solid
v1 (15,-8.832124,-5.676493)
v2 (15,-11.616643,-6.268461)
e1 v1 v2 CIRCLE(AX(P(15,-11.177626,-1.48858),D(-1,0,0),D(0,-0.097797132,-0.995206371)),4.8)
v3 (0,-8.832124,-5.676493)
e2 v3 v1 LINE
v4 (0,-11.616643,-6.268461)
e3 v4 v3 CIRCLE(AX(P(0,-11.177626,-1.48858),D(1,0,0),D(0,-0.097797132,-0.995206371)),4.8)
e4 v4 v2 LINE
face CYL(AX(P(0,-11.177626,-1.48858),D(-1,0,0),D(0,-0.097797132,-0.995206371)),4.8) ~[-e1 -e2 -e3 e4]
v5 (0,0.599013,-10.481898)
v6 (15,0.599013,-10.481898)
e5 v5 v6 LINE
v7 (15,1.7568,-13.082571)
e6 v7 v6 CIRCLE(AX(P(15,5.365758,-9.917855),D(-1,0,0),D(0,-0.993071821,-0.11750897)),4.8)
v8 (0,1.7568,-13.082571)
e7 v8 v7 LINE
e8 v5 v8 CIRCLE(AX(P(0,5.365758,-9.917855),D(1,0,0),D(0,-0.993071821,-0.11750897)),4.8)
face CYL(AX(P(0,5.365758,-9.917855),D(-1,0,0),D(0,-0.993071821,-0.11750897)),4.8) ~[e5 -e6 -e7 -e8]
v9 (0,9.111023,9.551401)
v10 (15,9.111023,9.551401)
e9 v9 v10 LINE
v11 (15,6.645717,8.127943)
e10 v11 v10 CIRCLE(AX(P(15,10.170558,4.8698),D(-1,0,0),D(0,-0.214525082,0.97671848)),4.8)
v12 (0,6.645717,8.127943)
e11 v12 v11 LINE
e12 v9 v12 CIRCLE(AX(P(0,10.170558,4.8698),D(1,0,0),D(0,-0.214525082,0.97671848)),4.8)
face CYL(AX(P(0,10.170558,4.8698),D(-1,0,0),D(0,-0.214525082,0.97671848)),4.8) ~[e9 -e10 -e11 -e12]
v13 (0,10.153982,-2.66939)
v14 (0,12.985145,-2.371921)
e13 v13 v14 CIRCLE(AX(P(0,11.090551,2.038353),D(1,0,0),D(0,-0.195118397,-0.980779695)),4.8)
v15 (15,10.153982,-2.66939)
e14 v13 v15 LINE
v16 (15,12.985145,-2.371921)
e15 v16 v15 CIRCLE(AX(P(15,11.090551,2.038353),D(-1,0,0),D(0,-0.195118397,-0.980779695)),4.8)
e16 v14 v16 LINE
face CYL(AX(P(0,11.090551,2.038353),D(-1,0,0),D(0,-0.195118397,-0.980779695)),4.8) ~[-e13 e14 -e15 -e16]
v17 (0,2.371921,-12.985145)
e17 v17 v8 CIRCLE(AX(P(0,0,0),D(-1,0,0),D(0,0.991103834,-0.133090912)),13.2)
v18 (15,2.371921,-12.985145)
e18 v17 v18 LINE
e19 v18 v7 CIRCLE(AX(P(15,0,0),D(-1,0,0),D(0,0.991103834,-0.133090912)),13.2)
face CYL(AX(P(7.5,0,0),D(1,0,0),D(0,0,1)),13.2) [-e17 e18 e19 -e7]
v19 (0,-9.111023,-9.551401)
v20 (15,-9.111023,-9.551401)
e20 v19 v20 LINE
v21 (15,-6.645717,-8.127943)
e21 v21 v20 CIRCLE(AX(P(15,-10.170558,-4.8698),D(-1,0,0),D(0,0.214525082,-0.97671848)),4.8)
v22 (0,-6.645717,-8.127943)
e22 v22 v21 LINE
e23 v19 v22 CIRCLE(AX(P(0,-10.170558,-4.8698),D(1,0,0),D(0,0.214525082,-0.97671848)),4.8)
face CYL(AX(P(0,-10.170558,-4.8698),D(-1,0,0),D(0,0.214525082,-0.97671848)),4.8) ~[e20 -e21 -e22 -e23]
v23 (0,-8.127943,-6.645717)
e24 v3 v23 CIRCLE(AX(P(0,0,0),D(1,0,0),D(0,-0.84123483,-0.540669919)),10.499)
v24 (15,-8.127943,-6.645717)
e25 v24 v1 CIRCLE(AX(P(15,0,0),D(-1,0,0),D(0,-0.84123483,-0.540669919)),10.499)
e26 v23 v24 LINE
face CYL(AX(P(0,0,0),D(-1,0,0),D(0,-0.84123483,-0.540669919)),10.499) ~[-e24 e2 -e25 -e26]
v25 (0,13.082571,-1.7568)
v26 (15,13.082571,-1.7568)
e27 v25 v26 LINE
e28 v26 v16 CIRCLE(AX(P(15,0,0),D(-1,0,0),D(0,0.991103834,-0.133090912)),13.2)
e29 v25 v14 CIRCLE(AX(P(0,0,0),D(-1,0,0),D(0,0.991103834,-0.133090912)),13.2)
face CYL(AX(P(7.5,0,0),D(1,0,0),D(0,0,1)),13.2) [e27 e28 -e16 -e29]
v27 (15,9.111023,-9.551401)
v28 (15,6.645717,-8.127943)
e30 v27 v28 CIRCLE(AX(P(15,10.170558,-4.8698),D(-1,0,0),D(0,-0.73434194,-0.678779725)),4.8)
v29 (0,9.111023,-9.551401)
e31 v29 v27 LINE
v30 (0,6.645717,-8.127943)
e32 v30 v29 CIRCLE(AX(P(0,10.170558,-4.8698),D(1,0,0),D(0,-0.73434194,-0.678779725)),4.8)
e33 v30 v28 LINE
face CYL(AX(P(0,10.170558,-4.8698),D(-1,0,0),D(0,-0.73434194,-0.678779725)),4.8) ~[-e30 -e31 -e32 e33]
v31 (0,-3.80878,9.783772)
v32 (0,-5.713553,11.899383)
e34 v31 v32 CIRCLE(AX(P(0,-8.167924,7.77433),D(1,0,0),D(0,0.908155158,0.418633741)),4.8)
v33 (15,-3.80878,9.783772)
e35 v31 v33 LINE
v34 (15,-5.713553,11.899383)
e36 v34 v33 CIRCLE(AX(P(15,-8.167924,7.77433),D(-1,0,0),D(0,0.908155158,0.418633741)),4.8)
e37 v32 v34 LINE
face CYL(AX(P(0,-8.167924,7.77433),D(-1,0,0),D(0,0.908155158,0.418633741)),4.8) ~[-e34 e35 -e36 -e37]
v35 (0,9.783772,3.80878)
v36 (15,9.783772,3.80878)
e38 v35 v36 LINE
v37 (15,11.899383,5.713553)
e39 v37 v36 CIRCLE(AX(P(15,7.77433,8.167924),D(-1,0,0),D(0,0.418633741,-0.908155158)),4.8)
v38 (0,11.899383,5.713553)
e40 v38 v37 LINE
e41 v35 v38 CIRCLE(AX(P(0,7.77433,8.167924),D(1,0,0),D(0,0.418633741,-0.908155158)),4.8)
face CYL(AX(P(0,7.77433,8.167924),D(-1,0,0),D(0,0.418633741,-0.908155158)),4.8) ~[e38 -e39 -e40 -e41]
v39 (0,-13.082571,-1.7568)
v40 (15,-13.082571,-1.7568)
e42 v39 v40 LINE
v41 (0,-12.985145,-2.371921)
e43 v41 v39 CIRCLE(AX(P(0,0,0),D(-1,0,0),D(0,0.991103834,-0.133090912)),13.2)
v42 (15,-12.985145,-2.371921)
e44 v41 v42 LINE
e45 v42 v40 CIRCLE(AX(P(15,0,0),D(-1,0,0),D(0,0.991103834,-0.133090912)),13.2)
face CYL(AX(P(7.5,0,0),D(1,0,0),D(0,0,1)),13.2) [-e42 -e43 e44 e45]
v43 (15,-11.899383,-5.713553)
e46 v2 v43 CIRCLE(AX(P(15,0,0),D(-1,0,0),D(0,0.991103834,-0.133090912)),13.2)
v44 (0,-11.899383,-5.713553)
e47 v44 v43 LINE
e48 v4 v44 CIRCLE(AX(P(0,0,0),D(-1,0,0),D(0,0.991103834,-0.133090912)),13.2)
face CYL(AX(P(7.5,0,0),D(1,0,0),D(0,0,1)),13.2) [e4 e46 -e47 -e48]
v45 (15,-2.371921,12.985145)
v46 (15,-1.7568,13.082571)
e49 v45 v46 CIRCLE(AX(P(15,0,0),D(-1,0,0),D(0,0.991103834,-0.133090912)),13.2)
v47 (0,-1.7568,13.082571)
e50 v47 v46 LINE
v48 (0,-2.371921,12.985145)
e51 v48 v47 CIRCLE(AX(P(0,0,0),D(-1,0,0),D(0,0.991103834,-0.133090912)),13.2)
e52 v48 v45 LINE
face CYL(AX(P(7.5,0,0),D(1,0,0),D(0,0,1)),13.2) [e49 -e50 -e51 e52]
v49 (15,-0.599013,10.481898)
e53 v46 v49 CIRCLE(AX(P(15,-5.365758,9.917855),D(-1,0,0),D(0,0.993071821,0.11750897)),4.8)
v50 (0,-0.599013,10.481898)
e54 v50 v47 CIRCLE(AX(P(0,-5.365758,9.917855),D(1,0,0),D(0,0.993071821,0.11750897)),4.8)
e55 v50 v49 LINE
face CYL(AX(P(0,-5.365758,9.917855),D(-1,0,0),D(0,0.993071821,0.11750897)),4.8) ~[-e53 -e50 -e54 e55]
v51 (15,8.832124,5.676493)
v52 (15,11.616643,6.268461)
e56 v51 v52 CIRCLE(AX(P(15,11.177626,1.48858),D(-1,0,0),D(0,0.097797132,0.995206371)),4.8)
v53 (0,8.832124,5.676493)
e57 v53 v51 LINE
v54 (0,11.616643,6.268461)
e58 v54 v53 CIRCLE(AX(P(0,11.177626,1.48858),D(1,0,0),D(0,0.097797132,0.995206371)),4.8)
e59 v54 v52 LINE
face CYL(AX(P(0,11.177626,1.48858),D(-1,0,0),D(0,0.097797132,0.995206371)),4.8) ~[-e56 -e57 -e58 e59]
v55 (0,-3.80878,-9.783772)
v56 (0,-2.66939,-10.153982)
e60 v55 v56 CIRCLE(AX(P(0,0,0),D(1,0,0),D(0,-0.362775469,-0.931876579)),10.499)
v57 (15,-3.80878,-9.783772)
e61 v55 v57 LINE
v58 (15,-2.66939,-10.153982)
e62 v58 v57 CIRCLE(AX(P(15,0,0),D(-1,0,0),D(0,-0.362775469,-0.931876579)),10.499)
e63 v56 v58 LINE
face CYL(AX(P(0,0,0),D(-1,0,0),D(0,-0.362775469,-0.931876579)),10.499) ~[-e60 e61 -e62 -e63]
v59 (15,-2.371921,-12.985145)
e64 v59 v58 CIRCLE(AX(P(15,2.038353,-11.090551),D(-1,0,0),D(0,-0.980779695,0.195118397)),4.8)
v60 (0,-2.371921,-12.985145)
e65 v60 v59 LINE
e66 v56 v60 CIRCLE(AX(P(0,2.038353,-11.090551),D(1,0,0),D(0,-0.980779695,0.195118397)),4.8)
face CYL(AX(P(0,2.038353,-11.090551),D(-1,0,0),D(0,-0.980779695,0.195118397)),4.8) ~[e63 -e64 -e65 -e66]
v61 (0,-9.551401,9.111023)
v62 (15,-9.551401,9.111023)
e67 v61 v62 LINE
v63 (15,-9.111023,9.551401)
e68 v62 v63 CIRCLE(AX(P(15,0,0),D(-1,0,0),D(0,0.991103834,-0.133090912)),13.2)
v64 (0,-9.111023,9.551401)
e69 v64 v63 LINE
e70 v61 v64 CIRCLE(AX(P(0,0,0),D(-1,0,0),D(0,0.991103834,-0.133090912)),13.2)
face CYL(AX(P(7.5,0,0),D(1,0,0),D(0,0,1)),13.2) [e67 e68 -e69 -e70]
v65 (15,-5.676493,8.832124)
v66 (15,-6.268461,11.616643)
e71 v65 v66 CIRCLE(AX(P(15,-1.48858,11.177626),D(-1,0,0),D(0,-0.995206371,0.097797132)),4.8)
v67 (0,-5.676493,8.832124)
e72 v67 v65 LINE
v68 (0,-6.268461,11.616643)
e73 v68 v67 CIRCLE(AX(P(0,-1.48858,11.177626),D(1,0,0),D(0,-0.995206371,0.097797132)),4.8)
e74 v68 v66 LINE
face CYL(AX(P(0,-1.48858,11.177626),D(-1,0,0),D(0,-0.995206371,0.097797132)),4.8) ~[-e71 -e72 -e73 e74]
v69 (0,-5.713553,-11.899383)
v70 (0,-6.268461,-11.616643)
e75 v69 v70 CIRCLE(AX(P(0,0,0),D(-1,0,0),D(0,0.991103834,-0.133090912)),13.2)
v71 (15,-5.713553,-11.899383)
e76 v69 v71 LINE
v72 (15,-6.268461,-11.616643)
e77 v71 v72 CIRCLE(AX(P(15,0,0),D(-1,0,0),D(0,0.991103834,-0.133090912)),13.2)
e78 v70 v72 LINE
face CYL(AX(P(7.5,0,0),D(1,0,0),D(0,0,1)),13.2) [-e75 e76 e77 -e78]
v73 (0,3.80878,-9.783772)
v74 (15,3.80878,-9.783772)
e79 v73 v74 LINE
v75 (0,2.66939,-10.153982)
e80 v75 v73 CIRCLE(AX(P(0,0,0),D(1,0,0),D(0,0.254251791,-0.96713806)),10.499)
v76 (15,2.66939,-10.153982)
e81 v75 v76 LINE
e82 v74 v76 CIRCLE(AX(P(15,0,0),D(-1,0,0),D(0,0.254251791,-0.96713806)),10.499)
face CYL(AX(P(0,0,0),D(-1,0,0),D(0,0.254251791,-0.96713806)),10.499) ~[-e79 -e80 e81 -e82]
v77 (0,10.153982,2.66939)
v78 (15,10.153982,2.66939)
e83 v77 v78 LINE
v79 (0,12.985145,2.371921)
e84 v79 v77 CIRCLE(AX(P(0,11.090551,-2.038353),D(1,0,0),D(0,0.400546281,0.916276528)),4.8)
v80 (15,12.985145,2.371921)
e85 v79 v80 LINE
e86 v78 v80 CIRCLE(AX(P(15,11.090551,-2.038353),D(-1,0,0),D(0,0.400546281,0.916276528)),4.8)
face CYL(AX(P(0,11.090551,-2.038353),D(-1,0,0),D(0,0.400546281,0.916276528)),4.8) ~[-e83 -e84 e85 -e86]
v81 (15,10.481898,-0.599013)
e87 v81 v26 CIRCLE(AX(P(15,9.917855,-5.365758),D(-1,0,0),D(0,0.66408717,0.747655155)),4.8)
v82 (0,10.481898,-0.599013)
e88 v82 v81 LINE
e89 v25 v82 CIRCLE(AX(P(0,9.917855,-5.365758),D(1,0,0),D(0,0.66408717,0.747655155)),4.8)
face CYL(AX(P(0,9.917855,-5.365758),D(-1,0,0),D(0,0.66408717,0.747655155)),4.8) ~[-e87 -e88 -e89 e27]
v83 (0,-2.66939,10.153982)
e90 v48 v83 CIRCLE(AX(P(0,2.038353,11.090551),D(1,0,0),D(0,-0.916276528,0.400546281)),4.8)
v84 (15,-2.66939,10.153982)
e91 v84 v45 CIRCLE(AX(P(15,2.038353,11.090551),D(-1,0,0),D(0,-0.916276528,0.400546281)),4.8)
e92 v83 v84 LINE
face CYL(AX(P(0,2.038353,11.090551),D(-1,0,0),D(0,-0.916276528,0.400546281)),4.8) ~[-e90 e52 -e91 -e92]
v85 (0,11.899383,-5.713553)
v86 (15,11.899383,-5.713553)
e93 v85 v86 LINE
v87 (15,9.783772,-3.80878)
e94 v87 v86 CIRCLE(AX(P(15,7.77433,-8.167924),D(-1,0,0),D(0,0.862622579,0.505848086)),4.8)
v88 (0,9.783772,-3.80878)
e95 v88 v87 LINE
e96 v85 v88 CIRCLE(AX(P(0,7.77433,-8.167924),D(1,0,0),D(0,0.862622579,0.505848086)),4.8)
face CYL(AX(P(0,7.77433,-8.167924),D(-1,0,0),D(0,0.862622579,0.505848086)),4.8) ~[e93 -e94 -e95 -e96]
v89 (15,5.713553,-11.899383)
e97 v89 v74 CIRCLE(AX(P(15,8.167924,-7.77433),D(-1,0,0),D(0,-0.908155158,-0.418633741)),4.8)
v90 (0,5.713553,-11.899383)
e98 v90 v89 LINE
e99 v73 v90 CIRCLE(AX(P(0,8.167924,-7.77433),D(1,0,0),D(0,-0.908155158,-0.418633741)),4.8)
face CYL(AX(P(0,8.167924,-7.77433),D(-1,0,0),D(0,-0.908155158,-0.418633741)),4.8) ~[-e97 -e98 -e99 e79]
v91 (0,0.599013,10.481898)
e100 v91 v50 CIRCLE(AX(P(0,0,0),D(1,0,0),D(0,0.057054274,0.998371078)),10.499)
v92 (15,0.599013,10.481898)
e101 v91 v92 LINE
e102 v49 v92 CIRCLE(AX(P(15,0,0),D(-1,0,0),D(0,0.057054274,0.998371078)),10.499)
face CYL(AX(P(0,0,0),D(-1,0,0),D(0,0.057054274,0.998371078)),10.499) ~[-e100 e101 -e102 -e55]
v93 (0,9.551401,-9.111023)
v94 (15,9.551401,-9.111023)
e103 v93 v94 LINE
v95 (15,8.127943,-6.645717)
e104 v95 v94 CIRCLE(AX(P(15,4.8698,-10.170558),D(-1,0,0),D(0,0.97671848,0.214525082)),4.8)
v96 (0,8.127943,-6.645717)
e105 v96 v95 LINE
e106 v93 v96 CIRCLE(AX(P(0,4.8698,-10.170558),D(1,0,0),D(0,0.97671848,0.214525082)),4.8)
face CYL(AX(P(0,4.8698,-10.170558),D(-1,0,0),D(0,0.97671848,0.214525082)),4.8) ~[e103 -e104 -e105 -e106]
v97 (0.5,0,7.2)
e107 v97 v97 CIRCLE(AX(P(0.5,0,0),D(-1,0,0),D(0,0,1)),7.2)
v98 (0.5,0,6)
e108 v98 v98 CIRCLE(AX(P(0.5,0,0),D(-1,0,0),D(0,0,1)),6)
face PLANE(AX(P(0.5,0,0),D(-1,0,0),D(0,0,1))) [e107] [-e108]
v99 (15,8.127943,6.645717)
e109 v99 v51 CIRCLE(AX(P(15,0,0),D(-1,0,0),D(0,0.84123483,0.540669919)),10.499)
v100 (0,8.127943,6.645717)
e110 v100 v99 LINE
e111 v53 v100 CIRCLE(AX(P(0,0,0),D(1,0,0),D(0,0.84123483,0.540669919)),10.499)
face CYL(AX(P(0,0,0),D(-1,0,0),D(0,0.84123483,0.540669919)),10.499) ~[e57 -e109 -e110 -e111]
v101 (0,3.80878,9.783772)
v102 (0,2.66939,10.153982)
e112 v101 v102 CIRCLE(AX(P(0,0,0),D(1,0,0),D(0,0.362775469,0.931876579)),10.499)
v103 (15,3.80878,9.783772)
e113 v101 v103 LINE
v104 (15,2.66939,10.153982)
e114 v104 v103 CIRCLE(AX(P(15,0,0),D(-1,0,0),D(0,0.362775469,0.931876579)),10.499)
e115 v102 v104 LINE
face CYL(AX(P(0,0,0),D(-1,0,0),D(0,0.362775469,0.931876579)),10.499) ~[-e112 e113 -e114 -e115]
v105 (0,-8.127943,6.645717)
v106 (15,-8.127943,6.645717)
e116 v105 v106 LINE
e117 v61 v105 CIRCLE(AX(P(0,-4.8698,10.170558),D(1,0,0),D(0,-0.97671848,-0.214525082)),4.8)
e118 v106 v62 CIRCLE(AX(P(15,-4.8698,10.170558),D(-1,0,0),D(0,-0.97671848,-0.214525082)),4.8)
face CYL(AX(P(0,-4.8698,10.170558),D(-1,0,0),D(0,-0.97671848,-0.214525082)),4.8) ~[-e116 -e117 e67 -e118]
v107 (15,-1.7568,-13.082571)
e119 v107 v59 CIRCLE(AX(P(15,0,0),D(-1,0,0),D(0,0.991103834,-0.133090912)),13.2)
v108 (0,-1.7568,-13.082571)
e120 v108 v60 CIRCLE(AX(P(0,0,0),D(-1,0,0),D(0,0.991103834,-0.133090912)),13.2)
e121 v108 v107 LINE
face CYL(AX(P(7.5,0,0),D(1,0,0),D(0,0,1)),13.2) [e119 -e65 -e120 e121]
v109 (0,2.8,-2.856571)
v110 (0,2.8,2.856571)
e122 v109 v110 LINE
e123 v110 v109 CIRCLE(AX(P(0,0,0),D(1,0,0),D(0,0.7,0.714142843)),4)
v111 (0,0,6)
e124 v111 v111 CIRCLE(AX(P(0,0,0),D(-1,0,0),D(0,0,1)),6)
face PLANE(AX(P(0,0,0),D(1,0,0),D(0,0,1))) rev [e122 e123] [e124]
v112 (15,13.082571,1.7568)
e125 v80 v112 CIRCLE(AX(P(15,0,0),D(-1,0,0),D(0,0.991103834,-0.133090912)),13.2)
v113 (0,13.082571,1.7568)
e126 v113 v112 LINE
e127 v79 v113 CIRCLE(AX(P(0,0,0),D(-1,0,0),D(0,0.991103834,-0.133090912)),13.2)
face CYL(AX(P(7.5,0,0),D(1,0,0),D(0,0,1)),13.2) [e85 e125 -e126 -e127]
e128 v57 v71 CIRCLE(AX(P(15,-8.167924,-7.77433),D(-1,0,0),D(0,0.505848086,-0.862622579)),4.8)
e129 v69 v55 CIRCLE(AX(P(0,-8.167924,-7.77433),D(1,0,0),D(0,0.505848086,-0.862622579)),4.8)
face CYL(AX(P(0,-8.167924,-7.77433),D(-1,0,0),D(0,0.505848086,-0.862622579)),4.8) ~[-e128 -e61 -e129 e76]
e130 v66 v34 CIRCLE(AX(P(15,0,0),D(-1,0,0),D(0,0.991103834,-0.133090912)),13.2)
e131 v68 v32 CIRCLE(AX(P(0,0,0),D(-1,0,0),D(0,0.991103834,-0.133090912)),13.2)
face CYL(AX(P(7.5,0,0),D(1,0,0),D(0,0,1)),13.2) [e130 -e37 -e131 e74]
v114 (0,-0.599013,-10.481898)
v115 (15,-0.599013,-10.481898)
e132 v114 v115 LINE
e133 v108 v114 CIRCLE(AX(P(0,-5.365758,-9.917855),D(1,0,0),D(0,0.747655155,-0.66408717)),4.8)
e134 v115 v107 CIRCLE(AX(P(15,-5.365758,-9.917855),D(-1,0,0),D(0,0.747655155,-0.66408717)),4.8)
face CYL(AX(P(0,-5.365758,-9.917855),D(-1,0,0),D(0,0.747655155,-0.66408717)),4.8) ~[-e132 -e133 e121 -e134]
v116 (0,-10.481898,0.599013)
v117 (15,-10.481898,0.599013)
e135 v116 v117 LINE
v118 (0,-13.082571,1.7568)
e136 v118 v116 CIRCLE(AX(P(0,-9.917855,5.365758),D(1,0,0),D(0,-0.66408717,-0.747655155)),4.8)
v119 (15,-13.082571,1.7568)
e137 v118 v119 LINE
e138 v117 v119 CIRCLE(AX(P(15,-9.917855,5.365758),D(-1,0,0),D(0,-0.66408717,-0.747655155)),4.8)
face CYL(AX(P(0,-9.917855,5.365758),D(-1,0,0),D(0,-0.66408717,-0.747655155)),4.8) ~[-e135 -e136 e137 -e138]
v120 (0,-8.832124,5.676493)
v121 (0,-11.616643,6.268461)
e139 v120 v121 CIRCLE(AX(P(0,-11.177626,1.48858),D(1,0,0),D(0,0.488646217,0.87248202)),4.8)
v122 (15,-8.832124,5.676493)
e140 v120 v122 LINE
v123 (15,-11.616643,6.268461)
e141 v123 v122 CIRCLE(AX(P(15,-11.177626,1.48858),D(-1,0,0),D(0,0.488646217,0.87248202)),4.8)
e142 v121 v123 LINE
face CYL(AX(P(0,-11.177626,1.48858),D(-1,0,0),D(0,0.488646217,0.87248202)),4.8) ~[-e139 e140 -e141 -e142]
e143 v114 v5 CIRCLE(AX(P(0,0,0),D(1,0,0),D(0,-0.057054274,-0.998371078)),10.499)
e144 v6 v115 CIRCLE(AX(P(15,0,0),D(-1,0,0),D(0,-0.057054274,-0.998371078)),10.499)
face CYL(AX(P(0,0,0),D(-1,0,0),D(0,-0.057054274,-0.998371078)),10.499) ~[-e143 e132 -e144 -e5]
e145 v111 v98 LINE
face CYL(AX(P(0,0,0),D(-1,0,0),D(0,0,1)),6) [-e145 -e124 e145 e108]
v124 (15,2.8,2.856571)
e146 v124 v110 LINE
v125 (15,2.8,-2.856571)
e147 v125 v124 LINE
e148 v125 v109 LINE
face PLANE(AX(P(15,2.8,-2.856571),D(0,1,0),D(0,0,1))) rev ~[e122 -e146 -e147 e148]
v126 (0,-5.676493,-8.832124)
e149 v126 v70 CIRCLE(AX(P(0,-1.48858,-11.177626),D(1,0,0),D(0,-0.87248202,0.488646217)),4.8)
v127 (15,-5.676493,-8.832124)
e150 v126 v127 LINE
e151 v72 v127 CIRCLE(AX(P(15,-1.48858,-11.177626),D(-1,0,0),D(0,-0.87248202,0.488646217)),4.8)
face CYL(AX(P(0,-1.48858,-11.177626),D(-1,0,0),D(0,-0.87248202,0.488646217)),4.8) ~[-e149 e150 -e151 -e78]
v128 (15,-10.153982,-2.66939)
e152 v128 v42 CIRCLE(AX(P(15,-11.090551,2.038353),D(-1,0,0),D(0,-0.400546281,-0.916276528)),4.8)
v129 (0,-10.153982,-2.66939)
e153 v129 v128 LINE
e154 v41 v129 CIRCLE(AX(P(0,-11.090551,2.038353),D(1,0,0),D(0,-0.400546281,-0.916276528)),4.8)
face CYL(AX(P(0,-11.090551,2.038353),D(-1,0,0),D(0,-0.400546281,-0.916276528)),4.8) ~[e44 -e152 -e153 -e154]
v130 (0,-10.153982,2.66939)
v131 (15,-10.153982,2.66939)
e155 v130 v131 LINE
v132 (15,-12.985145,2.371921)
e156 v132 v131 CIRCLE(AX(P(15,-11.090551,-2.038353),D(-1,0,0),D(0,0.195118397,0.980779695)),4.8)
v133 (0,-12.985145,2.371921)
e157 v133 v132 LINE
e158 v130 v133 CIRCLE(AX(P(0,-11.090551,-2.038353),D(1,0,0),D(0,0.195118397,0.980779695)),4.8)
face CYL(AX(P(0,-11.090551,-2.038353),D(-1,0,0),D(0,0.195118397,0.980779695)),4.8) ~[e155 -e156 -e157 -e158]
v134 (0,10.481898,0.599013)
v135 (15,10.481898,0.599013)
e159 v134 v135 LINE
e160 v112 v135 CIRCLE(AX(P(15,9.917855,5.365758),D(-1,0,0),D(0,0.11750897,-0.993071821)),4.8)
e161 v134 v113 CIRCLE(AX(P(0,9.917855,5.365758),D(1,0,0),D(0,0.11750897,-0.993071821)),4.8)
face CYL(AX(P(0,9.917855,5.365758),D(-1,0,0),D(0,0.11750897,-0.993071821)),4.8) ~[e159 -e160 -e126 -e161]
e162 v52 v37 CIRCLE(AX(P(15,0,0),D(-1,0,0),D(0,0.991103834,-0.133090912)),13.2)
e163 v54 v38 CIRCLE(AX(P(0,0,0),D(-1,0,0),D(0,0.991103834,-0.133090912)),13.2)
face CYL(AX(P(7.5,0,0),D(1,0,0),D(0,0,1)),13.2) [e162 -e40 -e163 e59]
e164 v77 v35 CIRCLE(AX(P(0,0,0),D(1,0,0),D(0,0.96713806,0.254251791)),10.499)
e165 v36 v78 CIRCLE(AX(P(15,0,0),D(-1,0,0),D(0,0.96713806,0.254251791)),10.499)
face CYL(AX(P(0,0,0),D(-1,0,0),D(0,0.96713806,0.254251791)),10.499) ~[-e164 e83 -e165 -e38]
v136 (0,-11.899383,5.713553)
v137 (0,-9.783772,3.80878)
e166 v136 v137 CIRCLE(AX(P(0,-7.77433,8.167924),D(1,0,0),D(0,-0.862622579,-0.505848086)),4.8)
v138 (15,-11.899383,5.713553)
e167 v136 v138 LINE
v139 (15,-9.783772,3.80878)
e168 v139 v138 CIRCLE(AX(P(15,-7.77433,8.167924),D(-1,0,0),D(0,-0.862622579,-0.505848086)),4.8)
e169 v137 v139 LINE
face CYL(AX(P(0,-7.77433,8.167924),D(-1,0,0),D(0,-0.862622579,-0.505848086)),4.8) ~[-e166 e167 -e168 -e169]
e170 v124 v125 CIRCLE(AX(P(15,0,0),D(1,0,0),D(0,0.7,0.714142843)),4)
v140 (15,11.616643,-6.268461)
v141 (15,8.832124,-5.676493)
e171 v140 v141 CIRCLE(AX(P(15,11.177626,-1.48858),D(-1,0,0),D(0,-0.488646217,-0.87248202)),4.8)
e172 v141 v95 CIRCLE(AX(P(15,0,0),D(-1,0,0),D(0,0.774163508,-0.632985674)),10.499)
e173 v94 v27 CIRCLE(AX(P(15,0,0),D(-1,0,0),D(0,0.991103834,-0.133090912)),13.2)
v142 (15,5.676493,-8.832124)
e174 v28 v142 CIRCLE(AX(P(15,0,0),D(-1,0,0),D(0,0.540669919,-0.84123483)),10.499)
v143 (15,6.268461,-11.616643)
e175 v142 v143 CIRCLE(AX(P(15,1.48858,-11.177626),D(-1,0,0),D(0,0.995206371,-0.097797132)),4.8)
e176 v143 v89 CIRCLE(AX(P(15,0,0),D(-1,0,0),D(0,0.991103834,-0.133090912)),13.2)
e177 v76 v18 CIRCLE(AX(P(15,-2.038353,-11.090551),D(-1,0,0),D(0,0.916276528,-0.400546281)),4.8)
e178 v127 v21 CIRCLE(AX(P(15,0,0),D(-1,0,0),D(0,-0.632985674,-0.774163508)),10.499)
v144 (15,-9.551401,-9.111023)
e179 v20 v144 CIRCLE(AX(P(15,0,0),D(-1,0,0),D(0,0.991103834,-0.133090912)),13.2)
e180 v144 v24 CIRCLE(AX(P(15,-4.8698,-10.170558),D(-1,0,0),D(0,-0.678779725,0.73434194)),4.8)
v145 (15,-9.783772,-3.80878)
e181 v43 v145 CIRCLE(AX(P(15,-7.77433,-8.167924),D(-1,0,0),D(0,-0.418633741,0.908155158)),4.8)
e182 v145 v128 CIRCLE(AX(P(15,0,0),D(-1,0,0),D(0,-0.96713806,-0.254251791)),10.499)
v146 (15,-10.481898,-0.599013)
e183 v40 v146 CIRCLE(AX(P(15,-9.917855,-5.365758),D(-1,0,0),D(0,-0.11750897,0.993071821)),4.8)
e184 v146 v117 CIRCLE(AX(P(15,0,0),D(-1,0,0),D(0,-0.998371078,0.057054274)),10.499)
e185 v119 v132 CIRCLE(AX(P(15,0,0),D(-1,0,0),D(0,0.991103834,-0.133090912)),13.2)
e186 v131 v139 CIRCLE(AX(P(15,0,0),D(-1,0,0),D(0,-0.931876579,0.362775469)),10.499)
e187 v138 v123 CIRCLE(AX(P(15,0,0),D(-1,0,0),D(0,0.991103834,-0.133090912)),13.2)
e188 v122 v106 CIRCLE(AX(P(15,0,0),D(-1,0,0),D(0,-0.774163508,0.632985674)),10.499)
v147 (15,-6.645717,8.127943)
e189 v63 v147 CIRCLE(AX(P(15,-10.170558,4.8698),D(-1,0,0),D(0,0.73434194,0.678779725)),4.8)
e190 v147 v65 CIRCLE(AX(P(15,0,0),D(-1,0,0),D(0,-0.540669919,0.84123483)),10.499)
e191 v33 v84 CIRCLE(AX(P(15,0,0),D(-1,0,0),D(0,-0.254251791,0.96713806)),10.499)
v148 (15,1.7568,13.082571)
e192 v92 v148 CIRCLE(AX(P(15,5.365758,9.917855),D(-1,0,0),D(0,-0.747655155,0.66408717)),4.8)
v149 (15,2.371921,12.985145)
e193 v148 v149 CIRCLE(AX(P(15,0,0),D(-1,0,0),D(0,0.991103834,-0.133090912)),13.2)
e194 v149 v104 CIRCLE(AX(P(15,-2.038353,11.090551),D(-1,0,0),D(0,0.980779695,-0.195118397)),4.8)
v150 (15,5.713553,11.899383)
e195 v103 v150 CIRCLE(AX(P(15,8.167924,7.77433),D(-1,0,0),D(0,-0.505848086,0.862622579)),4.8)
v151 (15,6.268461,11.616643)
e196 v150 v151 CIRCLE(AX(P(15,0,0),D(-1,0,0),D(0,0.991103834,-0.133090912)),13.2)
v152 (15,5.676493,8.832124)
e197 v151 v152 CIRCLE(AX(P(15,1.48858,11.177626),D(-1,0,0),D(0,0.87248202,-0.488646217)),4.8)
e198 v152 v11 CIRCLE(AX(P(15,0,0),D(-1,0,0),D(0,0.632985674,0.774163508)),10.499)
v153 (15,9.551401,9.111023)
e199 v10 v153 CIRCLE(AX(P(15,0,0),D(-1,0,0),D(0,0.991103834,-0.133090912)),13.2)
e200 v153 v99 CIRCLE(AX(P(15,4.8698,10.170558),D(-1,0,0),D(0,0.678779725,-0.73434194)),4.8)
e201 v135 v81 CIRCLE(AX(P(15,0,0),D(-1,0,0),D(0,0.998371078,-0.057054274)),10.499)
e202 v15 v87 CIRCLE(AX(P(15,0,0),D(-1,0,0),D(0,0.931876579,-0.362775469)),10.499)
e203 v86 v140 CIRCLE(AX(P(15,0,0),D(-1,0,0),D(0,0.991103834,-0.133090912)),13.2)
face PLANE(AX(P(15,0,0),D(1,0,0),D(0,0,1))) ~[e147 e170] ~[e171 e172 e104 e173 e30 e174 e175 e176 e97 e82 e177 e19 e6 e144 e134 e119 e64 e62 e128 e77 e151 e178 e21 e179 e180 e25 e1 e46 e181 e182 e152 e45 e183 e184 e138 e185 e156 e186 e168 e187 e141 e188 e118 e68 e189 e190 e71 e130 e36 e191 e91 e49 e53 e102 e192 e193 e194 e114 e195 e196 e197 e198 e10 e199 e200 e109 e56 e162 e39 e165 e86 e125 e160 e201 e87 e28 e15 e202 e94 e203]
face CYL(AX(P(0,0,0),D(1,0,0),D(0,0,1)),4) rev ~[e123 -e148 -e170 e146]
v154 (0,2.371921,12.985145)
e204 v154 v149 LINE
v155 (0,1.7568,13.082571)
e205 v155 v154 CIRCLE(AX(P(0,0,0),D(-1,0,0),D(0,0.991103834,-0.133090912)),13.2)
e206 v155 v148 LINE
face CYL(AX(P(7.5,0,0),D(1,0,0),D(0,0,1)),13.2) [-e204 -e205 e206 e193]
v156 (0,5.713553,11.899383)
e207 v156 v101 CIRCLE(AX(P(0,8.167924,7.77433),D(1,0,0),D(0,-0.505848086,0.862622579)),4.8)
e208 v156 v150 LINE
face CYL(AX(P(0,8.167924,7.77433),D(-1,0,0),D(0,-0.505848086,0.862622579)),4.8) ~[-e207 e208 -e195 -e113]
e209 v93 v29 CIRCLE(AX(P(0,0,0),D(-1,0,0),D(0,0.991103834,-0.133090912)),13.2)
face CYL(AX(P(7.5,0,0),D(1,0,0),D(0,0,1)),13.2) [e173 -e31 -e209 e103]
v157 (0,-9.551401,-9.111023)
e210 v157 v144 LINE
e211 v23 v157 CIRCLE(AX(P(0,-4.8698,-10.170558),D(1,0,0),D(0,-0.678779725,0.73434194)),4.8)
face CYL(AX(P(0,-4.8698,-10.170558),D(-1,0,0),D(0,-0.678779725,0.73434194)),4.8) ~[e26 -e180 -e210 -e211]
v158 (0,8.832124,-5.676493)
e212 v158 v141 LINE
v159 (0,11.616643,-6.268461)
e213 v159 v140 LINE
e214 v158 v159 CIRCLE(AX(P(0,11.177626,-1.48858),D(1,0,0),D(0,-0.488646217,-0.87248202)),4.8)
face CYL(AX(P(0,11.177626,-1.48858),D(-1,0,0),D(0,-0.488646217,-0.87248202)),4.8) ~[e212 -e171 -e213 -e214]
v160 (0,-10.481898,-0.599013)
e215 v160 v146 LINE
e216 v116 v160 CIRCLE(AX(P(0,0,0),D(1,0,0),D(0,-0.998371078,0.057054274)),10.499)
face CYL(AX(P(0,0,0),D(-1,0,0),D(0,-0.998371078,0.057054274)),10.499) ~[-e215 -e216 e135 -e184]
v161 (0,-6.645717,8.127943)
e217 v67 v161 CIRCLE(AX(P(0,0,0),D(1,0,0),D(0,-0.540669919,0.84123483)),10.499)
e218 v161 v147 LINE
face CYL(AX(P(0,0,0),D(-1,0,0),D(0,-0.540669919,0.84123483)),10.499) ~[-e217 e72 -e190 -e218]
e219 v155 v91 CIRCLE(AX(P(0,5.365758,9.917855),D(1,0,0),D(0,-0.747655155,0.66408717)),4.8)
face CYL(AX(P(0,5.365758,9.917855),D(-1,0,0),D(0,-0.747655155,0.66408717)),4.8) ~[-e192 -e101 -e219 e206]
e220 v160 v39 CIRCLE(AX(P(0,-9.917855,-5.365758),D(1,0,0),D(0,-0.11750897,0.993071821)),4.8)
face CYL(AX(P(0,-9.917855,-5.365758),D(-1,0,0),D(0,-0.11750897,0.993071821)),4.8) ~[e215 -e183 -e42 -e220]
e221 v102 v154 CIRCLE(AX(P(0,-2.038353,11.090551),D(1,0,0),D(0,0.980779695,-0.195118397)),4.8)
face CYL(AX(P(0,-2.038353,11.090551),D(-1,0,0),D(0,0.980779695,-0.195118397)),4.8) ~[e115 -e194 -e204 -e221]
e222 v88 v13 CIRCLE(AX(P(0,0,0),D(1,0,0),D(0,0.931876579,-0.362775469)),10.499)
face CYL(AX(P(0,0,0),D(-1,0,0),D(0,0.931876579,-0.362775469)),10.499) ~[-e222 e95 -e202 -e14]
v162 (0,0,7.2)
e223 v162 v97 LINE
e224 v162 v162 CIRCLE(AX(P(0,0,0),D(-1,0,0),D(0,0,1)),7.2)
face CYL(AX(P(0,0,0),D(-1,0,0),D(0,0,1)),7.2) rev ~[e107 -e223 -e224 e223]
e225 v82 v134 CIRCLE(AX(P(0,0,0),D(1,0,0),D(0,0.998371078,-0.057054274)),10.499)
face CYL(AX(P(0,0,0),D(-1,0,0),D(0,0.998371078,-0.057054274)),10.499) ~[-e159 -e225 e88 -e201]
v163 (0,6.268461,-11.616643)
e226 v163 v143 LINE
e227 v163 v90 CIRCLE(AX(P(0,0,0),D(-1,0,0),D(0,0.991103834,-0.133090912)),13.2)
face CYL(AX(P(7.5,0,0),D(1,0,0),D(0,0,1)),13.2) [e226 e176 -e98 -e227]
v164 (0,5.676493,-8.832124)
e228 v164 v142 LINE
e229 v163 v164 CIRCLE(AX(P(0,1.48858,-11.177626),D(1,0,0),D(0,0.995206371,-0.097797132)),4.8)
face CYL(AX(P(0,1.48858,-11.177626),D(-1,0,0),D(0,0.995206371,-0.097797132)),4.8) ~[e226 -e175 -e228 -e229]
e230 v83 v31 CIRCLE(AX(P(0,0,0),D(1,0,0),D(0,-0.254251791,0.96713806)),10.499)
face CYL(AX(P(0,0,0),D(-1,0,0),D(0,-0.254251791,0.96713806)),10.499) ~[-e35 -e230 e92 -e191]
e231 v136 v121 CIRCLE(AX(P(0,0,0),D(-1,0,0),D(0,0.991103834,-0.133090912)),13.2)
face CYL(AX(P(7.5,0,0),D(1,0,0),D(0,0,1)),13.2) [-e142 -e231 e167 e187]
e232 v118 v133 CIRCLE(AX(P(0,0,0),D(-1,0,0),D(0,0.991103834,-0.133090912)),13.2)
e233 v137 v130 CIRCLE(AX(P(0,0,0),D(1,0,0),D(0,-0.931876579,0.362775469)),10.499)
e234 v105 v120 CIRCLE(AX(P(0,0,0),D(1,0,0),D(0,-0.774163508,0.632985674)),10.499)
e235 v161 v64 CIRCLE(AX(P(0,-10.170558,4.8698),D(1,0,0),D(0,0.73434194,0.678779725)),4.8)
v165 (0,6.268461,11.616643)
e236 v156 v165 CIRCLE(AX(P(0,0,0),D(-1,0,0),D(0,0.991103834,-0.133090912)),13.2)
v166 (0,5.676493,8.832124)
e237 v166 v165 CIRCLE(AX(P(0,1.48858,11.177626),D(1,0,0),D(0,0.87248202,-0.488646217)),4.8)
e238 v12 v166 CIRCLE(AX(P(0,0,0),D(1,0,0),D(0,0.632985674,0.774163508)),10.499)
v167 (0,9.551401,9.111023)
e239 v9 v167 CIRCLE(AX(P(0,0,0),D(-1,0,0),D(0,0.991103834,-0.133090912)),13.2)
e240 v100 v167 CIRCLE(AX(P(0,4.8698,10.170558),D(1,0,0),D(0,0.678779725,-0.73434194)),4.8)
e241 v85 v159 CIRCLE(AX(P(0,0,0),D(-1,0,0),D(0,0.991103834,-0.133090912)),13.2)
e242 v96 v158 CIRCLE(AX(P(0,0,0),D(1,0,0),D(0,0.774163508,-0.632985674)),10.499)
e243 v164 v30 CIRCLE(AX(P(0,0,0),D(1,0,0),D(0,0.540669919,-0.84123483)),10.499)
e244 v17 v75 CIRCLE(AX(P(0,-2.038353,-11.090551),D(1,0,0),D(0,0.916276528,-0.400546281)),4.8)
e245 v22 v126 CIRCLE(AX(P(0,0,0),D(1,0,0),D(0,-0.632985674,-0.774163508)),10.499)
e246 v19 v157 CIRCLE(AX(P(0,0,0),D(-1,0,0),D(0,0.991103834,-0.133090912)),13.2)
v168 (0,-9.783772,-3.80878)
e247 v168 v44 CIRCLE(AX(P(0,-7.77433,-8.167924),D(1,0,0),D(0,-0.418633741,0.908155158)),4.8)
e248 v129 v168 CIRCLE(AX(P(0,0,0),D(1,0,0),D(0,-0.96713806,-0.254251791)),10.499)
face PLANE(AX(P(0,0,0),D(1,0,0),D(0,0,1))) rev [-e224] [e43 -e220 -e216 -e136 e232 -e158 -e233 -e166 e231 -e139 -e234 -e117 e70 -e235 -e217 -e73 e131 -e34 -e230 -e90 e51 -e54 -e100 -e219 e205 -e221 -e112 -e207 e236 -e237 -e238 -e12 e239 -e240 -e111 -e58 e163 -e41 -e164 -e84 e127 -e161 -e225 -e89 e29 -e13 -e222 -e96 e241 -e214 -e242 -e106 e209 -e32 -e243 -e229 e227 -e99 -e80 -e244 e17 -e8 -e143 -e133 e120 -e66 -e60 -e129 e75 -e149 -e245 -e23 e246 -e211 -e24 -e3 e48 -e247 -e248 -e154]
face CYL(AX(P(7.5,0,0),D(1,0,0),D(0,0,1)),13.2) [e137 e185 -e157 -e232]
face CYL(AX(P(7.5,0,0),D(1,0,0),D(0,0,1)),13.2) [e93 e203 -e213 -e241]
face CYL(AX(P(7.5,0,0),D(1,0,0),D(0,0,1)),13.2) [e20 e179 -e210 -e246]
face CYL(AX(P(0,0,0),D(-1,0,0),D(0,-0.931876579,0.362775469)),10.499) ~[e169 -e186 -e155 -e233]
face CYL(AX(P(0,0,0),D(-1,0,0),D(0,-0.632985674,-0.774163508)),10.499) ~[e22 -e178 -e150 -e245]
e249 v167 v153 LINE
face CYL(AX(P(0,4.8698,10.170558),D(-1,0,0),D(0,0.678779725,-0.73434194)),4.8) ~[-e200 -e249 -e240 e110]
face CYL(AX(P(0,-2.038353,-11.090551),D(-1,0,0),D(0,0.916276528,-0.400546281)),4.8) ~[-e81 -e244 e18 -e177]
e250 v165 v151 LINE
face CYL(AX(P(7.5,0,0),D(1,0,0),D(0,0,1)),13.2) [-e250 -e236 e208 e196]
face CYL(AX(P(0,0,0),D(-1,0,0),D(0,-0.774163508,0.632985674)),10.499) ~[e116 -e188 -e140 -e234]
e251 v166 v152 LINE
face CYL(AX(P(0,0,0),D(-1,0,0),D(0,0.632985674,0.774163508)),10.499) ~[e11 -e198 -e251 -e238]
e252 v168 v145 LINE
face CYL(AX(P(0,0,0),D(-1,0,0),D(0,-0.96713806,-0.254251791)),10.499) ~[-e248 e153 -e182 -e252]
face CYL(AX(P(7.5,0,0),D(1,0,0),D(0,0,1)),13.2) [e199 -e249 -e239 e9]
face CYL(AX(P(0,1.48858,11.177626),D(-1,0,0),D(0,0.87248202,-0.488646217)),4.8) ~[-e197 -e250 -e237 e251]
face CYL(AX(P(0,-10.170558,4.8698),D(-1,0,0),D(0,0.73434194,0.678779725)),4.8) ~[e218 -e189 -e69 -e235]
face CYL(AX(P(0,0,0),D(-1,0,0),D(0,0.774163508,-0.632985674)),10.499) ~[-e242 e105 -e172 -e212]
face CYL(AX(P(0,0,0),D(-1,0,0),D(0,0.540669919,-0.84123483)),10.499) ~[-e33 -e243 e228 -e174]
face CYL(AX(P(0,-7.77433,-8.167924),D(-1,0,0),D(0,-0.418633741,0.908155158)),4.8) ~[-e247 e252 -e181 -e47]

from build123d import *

# Parameters (mm, degrees)
BASPROSKE_W         = 15
BASPROSKE_H         = 13.2
TOOTHCUT_DEPTH      = 24.947442452
TEETHCUTS_COUNT     = 20
TEETHCUTS_ANGLE     = 342
BORSKE_R            = 4
BORE_DEPTH          = 50.0000508
BOSS_EXTRUDE1_START = -15
BOSS_EXTRUDE1_DEPTH = 15
SKETCH2_R           = 7.2
SKETCH2_R_2         = 6
CUT_EXTRUDE1_DEPTH  = 0.5


with BuildPart() as part:
    # BasProSke → Base-Revolve (revolve)
    with BuildSketch(Plane(origin=(0, 0, 0), x_dir=(1, 0, 0), z_dir=(0, 1, 0)), mode=Mode.PRIVATE) as base_revolve_sk:
        with Locations((7.5, 6.6)):
            Rectangle(BASPROSKE_W, BASPROSKE_H)
    revolve(base_revolve_sk.sketch.rotate(Axis((-10, 0, 0), (1, 0, 0)), 180), axis=Axis((-10, 0, 0), (1, 0, 0)))

    # TooCutSke → ToothCut (cut, through all)
    with BuildSketch(Plane(origin=(0, 0, 0), x_dir=(0, 0, -1), z_dir=(1, 0, 0))):
        with BuildLine():
            ThreePointArc((0.599012827, 10.48189795), (0, 10.499), (-0.599012827, 10.48189795))
            ThreePointArc((-0.599012827, 10.48189795), (-0.986906343, 11.883983562), (-1.777012823, 13.105473306))
            ThreePointArc((-1.777012823, 13.105473306), (0, 13.2254), (1.777012823, 13.105473306))
            ThreePointArc((1.777012823, 13.105473306), (0.986906343, 11.883983562), (0.599012827, 10.48189795))
        make_face()
    toothcut = extrude(amount=TOOTHCUT_DEPTH, mode=Mode.SUBTRACT)

    # TeethCuts: ToothCut ×20 about axis
    teethcuts_axis = Axis((-10, 0, 0), (1, 0, 0))
    for i in range(1, TEETHCUTS_COUNT):
        add(toothcut.rotate(teethcuts_axis, i * TEETHCUTS_ANGLE / (TEETHCUTS_COUNT - 1)), mode=Mode.SUBTRACT)

    # BorSke → Bore (cut, symmetric)
    with BuildSketch(Plane(origin=(0, 0, 0), x_dir=(0, 0, -1), z_dir=(1, 0, 0))):
        with Locations(Location((0, 0, 0), (0, 0, 180))):
            Circle(BORSKE_R)
    extrude(amount=BORE_DEPTH, both=True, mode=Mode.SUBTRACT)

    # Sketch1 → Boss-Extrude1 (add)
    with BuildSketch(Plane.ZY.offset(BOSS_EXTRUDE1_START)):
        with BuildLine():
            Line((-2.856571371, 2.8), (2.856571371, 2.8))
            ThreePointArc((2.856571371, 2.8), (0, 4), (-2.856571371, 2.8))
        make_face()
    extrude(amount=BOSS_EXTRUDE1_DEPTH)

    # Sketch2 → Cut-Extrude1 (cut)
    with BuildSketch(Plane.ZY):
        Circle(SKETCH2_R)
        Circle(SKETCH2_R_2, mode=Mode.SUBTRACT)
    extrude(amount=-CUT_EXTRUDE1_DEPTH, mode=Mode.SUBTRACT)


solid = part.part
